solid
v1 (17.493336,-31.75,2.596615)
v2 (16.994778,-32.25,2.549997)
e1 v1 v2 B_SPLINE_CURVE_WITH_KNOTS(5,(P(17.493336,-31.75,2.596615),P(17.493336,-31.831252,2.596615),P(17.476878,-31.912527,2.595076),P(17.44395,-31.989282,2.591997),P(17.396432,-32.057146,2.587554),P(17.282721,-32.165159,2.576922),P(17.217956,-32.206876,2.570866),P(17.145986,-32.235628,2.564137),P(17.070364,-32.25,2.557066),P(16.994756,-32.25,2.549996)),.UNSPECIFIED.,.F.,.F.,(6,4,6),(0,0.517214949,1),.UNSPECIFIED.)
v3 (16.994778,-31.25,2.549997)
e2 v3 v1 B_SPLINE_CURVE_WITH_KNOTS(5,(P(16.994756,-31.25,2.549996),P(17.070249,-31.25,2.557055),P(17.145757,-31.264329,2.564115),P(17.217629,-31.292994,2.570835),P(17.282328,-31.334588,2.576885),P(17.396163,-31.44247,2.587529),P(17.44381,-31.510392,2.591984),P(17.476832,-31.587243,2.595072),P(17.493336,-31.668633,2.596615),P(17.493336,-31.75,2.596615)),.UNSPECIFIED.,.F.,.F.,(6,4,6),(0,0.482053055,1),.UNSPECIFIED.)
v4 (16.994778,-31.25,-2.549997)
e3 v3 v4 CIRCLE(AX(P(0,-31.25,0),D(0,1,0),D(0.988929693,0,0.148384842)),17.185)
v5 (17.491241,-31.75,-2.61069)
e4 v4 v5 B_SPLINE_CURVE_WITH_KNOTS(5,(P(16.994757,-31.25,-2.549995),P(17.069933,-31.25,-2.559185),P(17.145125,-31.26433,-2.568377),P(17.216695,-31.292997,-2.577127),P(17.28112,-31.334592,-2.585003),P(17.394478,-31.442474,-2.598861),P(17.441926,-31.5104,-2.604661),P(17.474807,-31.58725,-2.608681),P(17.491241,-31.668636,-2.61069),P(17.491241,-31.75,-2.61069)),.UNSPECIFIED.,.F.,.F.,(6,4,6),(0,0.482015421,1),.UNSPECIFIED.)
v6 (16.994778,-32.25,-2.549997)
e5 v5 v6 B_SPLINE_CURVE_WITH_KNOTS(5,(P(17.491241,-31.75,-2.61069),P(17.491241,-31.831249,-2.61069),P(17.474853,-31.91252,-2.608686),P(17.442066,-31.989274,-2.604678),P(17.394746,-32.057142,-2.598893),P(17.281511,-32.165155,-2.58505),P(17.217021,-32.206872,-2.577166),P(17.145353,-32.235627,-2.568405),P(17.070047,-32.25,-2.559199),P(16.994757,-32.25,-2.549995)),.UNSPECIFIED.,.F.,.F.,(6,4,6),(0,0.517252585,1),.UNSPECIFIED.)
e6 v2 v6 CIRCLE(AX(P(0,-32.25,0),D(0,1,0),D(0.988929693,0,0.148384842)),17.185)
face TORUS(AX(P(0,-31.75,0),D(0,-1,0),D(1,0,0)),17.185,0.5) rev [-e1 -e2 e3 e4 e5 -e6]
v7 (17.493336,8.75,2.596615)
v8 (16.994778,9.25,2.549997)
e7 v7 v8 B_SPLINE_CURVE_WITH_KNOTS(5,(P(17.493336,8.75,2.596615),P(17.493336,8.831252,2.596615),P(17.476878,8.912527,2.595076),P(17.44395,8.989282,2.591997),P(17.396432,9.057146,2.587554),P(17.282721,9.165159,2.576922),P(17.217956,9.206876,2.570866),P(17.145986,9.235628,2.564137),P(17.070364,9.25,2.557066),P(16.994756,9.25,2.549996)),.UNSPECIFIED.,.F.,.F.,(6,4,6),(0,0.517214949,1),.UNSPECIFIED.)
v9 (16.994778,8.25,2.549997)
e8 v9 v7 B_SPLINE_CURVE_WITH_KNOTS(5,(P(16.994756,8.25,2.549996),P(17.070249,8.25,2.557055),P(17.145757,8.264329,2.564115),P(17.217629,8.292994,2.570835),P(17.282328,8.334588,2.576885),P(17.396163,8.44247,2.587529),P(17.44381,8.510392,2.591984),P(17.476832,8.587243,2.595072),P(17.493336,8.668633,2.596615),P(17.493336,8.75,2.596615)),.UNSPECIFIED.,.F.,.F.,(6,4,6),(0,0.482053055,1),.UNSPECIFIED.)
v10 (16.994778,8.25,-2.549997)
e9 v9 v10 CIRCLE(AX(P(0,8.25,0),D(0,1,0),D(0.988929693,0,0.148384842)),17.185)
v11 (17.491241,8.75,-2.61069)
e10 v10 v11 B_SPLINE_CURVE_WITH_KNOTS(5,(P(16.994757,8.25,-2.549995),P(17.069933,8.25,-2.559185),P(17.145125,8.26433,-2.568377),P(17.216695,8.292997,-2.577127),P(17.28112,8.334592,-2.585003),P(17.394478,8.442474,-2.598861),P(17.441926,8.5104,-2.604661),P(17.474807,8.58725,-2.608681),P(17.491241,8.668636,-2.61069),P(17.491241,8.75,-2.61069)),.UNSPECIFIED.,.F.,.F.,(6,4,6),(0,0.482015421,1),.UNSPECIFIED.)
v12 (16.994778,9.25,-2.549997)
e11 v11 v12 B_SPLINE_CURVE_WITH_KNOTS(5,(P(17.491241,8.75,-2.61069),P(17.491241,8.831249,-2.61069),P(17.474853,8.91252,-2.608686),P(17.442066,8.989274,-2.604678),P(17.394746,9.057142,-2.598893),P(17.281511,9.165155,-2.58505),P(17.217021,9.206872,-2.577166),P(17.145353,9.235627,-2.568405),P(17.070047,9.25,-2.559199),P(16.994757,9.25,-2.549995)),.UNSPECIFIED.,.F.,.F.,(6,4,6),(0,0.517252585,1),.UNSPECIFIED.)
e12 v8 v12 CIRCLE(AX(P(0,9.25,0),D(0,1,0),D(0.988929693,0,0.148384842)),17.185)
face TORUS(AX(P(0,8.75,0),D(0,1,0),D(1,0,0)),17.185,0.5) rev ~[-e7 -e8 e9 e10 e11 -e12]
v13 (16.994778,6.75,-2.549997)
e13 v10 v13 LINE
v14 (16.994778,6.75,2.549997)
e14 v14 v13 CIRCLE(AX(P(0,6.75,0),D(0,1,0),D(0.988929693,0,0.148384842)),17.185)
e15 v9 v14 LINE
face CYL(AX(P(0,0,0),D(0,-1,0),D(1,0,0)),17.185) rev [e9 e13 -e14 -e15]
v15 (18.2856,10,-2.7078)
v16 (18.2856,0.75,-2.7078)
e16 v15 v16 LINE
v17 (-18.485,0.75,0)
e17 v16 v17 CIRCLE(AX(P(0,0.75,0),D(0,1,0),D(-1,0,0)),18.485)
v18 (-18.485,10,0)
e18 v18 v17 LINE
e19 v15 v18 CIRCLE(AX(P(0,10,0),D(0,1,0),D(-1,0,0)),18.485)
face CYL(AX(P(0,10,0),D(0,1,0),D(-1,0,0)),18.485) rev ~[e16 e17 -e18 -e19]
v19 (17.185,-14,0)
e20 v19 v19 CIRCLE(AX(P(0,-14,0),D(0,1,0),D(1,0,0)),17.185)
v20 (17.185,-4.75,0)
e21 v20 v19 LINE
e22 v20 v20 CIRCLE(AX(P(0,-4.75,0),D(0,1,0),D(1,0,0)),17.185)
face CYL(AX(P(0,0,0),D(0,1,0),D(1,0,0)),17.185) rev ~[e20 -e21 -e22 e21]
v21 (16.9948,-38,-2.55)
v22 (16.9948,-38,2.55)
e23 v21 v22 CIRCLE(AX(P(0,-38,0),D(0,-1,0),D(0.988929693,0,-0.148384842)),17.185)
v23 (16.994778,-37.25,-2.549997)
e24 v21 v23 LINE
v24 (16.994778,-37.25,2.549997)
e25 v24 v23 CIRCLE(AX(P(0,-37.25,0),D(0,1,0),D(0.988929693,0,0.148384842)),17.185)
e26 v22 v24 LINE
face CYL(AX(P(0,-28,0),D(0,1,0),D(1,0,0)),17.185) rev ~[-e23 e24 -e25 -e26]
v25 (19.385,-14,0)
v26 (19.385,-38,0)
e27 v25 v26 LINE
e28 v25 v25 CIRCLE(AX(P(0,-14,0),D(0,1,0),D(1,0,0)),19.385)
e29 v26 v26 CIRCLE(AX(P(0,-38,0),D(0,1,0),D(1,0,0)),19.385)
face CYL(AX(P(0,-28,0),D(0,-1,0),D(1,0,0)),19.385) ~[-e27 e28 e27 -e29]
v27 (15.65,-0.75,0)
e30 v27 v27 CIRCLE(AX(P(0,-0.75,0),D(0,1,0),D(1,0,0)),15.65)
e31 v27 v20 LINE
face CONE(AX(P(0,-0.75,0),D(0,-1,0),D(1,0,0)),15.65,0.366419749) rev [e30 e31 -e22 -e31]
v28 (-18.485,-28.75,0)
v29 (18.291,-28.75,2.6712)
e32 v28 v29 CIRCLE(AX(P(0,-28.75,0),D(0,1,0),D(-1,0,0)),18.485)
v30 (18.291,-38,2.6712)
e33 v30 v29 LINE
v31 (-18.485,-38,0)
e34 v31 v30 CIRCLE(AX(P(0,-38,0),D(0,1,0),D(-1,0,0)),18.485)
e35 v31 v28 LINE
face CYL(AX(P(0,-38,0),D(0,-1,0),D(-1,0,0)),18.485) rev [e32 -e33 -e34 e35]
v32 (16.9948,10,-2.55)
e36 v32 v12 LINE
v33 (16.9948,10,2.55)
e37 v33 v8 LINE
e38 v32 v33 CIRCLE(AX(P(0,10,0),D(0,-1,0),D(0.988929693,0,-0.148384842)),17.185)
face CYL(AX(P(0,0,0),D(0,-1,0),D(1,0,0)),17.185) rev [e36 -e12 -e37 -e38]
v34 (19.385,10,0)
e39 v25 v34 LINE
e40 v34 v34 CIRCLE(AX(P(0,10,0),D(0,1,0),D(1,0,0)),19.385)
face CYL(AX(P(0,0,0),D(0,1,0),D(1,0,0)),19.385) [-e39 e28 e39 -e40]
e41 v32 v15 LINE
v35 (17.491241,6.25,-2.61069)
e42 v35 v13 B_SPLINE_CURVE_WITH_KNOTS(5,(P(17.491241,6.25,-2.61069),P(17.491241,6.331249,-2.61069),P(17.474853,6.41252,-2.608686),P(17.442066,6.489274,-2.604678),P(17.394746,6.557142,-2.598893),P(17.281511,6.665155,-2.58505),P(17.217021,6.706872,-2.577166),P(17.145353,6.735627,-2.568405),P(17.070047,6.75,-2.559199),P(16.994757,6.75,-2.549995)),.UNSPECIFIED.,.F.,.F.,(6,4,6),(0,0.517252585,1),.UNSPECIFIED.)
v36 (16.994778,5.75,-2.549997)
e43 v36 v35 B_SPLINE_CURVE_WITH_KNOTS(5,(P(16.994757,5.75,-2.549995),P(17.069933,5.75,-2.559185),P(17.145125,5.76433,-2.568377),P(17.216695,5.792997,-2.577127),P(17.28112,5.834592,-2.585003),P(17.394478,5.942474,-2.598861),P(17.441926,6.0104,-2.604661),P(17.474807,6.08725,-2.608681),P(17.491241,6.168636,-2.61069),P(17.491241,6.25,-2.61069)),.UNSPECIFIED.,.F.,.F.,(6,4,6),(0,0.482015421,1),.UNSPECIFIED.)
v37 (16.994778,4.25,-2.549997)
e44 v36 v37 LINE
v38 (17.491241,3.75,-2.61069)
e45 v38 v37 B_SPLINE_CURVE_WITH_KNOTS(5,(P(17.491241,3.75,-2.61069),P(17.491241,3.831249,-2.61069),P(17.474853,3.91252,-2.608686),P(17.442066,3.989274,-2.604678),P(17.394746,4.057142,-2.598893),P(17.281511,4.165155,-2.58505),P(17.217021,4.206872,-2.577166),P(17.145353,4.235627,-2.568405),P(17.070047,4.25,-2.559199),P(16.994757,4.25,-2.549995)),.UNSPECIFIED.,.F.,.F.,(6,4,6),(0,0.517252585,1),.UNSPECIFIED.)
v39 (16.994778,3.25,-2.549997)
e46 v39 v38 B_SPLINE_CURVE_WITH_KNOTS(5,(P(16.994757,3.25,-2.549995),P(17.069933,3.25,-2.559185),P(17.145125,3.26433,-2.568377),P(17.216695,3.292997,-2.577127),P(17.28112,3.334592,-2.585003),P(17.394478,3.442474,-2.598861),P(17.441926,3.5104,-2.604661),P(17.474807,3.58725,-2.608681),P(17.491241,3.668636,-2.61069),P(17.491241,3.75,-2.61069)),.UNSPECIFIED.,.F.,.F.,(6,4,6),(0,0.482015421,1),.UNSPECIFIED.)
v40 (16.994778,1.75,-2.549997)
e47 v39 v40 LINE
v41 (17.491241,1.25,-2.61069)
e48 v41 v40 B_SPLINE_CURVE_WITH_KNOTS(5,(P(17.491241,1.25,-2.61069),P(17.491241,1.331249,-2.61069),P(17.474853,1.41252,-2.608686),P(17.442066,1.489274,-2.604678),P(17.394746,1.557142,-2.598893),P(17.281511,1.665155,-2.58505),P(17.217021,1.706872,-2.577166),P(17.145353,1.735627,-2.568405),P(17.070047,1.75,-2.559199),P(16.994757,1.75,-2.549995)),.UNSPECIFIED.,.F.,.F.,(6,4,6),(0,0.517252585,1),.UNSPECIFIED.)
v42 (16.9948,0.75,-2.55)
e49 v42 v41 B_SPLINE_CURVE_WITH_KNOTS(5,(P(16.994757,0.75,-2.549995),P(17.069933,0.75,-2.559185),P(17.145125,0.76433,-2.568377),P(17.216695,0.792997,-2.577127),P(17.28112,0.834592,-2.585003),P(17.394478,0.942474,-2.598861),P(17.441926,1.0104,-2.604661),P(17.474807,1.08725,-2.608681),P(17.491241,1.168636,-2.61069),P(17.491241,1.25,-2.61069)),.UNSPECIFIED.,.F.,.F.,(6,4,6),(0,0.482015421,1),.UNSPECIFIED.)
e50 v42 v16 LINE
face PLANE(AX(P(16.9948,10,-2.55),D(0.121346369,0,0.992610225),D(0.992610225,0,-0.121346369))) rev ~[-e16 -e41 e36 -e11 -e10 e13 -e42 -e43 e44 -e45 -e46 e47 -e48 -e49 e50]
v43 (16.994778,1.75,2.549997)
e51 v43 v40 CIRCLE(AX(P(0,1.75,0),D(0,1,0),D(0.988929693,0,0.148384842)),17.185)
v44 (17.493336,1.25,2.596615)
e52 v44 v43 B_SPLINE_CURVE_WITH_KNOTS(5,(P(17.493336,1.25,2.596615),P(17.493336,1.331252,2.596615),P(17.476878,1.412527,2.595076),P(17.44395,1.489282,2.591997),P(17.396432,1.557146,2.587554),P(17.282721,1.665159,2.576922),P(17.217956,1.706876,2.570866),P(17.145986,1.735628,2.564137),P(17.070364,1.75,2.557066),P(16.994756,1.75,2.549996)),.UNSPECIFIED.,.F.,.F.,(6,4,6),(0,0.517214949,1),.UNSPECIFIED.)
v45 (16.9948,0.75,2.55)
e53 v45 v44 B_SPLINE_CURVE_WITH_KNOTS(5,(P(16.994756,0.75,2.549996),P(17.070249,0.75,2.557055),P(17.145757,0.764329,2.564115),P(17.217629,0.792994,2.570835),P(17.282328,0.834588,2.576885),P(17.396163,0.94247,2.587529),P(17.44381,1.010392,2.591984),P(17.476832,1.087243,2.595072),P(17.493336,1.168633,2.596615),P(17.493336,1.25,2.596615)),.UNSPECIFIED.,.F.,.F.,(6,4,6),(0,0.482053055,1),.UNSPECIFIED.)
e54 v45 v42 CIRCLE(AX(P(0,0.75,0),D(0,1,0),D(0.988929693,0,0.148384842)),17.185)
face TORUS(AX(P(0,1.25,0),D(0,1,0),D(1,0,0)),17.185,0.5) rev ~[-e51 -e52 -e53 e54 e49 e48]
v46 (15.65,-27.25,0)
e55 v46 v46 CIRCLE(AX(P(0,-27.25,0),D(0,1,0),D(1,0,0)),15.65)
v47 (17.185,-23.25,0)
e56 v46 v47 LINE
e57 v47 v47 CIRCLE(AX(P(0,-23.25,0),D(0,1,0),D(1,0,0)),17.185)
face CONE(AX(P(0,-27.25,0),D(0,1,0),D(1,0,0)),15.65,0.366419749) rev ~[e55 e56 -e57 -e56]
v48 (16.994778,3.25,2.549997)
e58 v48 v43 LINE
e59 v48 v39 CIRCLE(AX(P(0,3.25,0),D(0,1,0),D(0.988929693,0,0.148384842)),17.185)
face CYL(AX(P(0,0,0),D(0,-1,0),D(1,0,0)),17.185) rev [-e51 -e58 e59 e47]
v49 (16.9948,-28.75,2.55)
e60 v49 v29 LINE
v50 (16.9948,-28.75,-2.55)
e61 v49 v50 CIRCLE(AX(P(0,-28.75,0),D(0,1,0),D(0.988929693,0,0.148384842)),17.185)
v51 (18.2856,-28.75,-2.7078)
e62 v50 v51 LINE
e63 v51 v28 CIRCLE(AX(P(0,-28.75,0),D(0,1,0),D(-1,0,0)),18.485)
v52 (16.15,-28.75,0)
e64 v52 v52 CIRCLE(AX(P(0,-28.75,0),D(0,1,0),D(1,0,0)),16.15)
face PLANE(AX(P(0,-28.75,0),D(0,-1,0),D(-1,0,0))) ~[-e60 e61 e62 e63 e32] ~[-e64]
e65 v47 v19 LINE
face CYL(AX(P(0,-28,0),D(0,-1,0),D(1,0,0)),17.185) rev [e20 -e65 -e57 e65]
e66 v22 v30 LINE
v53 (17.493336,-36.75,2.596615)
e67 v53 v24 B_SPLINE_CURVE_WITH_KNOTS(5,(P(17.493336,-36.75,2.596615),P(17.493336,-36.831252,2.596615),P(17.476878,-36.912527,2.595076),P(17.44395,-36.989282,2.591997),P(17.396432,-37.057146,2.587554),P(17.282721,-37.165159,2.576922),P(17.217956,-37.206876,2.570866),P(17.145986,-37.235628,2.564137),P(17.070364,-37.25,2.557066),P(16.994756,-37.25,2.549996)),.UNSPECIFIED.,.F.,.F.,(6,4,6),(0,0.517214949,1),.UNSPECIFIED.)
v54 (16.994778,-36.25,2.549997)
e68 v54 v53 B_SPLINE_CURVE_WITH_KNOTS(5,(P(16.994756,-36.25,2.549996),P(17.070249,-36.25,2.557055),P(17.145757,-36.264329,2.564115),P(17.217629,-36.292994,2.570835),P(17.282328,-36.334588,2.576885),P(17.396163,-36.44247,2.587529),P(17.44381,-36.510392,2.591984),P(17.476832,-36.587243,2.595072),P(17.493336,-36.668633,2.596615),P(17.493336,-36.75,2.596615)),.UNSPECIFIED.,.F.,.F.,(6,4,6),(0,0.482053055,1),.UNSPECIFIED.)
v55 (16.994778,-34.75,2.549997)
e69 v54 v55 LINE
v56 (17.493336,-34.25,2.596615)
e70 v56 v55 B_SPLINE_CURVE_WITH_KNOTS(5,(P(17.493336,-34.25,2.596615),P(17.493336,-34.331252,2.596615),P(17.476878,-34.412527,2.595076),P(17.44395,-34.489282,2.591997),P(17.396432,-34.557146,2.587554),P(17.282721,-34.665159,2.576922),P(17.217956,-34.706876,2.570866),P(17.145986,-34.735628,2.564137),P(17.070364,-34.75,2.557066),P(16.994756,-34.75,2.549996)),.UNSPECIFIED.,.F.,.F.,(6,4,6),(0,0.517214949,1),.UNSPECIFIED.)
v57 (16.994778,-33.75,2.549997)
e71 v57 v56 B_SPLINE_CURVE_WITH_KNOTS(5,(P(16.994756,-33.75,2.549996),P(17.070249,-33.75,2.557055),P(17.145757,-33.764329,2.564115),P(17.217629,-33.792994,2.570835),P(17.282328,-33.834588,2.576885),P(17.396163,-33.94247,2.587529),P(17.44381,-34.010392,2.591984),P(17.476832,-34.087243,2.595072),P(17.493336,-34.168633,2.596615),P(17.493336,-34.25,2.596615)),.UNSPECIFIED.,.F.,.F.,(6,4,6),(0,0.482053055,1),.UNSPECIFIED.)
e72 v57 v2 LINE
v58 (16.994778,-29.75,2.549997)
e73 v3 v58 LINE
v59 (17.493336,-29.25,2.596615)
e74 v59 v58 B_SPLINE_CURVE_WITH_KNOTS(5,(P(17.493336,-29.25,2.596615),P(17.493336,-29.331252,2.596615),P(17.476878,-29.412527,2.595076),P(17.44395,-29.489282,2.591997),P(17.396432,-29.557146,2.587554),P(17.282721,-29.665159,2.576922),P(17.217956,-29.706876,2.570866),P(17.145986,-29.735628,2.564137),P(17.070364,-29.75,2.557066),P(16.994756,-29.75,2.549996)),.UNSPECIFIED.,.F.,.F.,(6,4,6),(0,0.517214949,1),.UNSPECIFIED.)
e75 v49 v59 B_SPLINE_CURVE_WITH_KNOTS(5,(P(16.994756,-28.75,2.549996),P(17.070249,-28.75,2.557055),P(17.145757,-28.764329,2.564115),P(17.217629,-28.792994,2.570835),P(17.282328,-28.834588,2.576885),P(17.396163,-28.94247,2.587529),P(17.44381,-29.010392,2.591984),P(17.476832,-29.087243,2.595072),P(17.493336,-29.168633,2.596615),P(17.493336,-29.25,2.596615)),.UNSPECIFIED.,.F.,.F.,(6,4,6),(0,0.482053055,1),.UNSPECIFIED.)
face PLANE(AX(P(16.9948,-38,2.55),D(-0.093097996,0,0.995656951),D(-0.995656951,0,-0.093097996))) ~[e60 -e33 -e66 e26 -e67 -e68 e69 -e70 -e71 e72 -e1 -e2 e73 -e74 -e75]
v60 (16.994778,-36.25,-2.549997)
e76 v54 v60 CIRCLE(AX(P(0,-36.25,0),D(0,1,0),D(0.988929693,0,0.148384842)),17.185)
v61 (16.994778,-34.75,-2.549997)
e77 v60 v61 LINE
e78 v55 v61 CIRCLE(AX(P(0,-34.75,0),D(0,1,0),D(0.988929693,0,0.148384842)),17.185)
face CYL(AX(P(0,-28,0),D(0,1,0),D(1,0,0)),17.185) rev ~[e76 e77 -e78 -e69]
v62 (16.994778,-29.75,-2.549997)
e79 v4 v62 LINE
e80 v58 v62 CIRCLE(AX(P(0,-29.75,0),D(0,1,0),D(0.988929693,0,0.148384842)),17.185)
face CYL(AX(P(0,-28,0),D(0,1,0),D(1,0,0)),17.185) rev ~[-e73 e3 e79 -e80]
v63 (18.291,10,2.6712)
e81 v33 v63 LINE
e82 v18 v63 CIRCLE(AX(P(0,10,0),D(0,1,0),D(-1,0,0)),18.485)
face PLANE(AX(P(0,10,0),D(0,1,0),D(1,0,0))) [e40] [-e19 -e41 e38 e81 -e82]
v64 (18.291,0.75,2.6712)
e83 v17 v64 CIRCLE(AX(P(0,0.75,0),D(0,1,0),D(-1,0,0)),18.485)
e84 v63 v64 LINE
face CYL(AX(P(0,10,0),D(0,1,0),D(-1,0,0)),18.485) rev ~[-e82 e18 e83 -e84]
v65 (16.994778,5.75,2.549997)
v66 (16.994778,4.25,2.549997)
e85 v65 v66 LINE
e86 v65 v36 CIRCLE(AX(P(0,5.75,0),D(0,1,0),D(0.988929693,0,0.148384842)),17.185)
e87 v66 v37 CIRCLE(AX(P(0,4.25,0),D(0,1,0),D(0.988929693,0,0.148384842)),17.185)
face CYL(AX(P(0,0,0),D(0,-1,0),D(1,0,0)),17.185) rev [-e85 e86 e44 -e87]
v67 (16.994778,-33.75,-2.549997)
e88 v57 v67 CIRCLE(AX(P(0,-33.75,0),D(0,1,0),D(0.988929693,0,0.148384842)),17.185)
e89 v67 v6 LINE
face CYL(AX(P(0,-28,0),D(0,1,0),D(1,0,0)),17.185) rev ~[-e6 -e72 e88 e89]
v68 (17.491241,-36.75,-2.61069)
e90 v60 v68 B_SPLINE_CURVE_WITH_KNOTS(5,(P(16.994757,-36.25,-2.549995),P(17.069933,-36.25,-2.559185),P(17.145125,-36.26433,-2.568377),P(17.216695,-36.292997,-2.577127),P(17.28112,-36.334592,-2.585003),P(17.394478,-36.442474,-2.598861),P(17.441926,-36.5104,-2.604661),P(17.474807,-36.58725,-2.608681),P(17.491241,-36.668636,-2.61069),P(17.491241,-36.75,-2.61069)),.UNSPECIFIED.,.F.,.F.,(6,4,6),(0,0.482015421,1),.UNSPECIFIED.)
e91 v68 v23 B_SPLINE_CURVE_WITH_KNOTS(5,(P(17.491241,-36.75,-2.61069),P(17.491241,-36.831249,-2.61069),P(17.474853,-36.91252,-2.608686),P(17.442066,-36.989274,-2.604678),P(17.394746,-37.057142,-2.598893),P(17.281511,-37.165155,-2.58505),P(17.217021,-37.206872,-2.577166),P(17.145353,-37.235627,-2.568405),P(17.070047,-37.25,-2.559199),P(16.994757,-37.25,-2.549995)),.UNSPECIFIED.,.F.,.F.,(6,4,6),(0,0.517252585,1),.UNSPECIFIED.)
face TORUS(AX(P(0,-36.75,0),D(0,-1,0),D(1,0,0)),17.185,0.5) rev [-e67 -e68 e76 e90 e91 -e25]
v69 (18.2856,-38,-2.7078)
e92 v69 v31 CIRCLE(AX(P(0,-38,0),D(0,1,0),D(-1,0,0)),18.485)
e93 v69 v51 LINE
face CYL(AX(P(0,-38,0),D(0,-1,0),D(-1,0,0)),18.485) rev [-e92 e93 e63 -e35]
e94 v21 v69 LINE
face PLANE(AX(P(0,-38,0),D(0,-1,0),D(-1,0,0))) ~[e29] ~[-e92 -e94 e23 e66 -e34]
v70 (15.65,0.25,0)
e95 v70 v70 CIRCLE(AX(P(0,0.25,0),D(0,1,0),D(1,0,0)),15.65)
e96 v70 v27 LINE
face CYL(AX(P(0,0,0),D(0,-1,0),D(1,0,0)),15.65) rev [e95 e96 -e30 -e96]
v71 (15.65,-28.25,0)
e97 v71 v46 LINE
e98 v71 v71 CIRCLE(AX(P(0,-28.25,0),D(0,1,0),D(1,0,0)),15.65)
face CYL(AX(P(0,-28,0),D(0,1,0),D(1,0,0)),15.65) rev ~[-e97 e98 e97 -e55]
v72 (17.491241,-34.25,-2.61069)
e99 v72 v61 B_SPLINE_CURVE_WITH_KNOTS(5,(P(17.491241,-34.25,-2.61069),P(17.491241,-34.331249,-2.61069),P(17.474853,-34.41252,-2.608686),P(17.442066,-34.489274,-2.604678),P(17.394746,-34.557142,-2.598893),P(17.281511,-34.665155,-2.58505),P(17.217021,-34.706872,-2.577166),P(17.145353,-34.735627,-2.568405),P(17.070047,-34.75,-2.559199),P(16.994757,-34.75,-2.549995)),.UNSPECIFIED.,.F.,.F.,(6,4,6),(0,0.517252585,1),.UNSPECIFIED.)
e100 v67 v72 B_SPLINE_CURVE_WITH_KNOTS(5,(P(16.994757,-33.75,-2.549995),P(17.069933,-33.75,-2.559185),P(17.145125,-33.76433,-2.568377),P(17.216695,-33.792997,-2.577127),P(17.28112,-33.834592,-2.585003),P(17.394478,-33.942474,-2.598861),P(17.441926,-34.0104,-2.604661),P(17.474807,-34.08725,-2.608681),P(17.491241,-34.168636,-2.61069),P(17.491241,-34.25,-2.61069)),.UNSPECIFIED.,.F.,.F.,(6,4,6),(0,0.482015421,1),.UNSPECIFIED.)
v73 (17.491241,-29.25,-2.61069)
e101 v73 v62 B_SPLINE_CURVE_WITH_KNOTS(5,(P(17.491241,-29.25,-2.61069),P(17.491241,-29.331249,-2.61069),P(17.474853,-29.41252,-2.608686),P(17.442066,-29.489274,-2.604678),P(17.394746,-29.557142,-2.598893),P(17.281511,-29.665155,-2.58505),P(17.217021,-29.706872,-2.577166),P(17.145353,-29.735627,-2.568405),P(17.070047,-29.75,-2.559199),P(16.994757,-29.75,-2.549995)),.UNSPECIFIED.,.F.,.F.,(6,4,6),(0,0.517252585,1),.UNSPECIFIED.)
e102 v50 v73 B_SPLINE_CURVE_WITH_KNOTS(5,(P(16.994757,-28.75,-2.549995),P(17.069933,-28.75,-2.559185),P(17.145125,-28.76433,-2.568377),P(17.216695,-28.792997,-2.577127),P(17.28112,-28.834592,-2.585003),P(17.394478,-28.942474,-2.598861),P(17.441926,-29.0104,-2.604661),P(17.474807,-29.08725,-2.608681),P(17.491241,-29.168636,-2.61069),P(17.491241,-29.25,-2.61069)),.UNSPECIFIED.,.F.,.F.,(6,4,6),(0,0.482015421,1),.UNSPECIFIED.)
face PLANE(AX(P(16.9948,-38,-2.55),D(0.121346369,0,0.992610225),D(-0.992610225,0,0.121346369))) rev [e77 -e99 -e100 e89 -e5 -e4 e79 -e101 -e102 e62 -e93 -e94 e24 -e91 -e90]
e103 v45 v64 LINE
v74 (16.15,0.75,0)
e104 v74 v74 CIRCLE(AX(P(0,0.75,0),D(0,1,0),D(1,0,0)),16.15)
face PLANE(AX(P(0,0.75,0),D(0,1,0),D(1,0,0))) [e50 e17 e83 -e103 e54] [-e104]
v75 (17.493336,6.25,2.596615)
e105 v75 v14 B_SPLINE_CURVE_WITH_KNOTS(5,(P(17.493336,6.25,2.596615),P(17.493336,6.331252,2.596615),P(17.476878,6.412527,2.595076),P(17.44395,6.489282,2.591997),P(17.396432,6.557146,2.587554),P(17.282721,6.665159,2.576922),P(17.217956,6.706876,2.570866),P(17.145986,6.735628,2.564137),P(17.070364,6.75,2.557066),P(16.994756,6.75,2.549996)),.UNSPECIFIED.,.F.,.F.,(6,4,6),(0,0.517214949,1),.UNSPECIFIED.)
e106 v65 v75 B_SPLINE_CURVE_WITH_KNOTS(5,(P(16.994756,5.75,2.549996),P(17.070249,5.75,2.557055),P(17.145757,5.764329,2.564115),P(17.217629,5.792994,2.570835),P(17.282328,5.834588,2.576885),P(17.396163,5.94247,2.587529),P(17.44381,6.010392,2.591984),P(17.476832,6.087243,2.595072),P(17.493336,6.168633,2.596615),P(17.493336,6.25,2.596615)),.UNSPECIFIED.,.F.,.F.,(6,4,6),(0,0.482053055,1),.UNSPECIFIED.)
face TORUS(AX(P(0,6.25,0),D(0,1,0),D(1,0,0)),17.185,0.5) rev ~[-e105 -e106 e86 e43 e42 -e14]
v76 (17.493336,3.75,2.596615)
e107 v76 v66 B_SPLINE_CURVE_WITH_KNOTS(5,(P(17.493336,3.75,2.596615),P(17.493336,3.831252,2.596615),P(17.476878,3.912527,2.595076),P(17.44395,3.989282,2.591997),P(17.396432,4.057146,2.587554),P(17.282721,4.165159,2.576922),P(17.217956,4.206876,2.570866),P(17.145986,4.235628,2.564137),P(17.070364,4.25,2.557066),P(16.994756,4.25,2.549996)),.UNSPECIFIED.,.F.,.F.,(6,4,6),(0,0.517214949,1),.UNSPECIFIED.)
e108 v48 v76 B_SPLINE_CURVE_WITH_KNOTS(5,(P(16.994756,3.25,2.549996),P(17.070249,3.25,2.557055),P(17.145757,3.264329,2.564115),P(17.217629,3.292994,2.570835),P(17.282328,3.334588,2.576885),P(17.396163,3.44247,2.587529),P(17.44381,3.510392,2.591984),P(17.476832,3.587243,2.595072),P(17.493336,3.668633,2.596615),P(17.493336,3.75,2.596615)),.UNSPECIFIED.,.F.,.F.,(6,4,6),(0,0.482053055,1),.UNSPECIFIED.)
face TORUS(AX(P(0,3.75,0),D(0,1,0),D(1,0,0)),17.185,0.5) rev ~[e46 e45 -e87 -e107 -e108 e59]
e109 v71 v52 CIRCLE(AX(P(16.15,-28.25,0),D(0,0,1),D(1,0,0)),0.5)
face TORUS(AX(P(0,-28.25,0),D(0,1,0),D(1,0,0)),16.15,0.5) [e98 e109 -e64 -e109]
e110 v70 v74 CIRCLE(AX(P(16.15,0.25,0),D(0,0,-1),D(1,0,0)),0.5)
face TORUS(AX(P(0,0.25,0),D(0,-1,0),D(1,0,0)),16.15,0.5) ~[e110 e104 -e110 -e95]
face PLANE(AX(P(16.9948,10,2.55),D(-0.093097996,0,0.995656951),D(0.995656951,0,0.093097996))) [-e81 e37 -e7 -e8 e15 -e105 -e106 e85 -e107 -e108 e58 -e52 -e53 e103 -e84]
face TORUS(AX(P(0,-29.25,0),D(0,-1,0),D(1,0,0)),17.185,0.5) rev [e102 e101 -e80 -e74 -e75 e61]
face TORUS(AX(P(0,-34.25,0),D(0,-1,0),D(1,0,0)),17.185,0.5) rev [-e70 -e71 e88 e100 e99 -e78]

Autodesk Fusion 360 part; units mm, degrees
sketch "Sketch1" plane through (0, 0, 0) normal (0, 1, 0) x (1, 0, 0)
  circle A0 centre (0, 0) radius 16.885 construction
  circle A1 centre (0, 0) radius 17.185
  circle A2 centre (0, 0) radius 15.65
  circle A3 centre (0, 0) radius 19.385
  dimension "d1" = 33.77
  dimension "d2" = 0.3
  dimension "d3" = 31.3
  dimension "d4" = 2.5
extrude "Extrude1" add sketch "Sketch1" along normal blind 10 and the other way blind 14 contours A3
extrude "Extrude2" add sketch "Sketch1" along normal mid plane 1.5 contours A1
sketch "Sketch2" plane through (0, 0, 0) normal (0, 0, 1) x (1, 0, 0)
  line L0 (15.65, 0) -> (-15.65, 0)
  line L1 (17.185, 0) -> (-17.185, 0)
  line L2 (-15.65, 0.75) -> (15.65, 0.75)
  line L3 (-17.185, 0.75) -> (17.185, 0.75)
  line L4 (17.185, 0.75) -> (17.185, 1.75)
  arc A0 (17.185, 0.75) -> (17.185, 1.75) centre (17.185, 1.25) ccw
  line L5 (15.65, -0.75) -> (-15.65, -0.75)
  line L6 (17.185, -0.75) -> (-17.185, -0.75)
  line L7 (15.65, -0.75) -> (17.185, -4.75)
  line L8 (17.185, -0.75) -> (17.185, -4.75)
  line L9 (19.385, 10) -> (-19.385, 10)
  line L10 (17.185, 0) -> (17.185, 10) construction
  line L11 (17.185, 3.25) -> (17.185, 4.25)
  arc A1 (17.185, 3.25) -> (17.185, 4.25) centre (17.185, 3.75) ccw
  line L12 (17.185, 5.75) -> (17.185, 6.75)
  arc A2 (17.185, 5.75) -> (17.185, 6.75) centre (17.185, 6.25) ccw
  line L13 (17.185, 8.25) -> (17.185, 9.25)
  arc A3 (17.185, 8.25) -> (17.185, 9.25) centre (17.185, 8.75) ccw
  dimension "d13" = 1
  dimension "d16" = 4
  dimension "d25" = 0
  dimension "d26" = 7.5
revolve "Revolve2" cut sketch "Sketch2" angle 360 about axis through (0, 1.75, 0) along (0, 1, 0) contours L13 A3
revolve "Revolve3" add sketch "Sketch2" angle 360 about axis through (0, 1.75, 0) along (0, 1, 0) contours L6 L7 L8
revolve "Revolve4" cut sketch "Sketch2" angle 360 about axis through (0, 1.75, 0) along (0, 1, 0) contours L12 A2
revolve "Revolve5" cut sketch "Sketch2" angle 360 about axis through (0, 1.75, 0) along (0, 1, 0) contours L11 A1
revolve "Revolve6" cut sketch "Sketch2" angle 360 about axis through (0, 1.75, 0) along (0, 1, 0) contours L4 A0
fillet "Fillet1" radius 0.5 1 faces at (15.6305, 0.5, 0.7801)
ref_plane "WorkPlane1" through (0, -14, 0) normal (0, -1, 0) x (-1, 0, 0)
sketch "Sketch3" plane through (0, 10, 0) normal (0, 1, 0) x (-1, 0, 0)
  circle A0 centre (0, 0) radius 17.185
  circle A1 centre (0, 0) radius 19.385
  circle A2 centre (0, 0) radius 17.185
  circle A3 centre (0, 0) radius 19.385
  line L0 (-16.9948, 2.55) -> (16.9948, 2.55)
  line L1 (16.9948, 2.55) -> (16.9948, -2.55)
  line L2 (16.9948, -2.55) -> (-16.9948, -2.55)
  line L3 (-16.9948, -2.55) -> (-16.9948, 2.55)
  line L4 (-16.9948, 2.55) -> (16.9948, -2.55) construction
  line L5 (16.9948, 2.55) -> (-16.9948, -2.55) construction
  circle A4 centre (0, 0) radius 18.485
  line L6 (-16.9948, -2.55) -> (-18.2856, -2.7078)
  line L7 (-16.9948, 2.55) -> (-18.291, 2.6712)
  dimension "d30" = 5.1
  dimension "d31" = 1.3
extrude "Extrude3" cut sketch "Sketch3" against normal up to surface (9.25 mm away) contours A0 A2 A4 L6 L7 picked at (17.9544, 1.4876)
mirror "Mirror2" about plane through (0, -14, 0) normal (0, -1, 0) of bodies 1 merged
